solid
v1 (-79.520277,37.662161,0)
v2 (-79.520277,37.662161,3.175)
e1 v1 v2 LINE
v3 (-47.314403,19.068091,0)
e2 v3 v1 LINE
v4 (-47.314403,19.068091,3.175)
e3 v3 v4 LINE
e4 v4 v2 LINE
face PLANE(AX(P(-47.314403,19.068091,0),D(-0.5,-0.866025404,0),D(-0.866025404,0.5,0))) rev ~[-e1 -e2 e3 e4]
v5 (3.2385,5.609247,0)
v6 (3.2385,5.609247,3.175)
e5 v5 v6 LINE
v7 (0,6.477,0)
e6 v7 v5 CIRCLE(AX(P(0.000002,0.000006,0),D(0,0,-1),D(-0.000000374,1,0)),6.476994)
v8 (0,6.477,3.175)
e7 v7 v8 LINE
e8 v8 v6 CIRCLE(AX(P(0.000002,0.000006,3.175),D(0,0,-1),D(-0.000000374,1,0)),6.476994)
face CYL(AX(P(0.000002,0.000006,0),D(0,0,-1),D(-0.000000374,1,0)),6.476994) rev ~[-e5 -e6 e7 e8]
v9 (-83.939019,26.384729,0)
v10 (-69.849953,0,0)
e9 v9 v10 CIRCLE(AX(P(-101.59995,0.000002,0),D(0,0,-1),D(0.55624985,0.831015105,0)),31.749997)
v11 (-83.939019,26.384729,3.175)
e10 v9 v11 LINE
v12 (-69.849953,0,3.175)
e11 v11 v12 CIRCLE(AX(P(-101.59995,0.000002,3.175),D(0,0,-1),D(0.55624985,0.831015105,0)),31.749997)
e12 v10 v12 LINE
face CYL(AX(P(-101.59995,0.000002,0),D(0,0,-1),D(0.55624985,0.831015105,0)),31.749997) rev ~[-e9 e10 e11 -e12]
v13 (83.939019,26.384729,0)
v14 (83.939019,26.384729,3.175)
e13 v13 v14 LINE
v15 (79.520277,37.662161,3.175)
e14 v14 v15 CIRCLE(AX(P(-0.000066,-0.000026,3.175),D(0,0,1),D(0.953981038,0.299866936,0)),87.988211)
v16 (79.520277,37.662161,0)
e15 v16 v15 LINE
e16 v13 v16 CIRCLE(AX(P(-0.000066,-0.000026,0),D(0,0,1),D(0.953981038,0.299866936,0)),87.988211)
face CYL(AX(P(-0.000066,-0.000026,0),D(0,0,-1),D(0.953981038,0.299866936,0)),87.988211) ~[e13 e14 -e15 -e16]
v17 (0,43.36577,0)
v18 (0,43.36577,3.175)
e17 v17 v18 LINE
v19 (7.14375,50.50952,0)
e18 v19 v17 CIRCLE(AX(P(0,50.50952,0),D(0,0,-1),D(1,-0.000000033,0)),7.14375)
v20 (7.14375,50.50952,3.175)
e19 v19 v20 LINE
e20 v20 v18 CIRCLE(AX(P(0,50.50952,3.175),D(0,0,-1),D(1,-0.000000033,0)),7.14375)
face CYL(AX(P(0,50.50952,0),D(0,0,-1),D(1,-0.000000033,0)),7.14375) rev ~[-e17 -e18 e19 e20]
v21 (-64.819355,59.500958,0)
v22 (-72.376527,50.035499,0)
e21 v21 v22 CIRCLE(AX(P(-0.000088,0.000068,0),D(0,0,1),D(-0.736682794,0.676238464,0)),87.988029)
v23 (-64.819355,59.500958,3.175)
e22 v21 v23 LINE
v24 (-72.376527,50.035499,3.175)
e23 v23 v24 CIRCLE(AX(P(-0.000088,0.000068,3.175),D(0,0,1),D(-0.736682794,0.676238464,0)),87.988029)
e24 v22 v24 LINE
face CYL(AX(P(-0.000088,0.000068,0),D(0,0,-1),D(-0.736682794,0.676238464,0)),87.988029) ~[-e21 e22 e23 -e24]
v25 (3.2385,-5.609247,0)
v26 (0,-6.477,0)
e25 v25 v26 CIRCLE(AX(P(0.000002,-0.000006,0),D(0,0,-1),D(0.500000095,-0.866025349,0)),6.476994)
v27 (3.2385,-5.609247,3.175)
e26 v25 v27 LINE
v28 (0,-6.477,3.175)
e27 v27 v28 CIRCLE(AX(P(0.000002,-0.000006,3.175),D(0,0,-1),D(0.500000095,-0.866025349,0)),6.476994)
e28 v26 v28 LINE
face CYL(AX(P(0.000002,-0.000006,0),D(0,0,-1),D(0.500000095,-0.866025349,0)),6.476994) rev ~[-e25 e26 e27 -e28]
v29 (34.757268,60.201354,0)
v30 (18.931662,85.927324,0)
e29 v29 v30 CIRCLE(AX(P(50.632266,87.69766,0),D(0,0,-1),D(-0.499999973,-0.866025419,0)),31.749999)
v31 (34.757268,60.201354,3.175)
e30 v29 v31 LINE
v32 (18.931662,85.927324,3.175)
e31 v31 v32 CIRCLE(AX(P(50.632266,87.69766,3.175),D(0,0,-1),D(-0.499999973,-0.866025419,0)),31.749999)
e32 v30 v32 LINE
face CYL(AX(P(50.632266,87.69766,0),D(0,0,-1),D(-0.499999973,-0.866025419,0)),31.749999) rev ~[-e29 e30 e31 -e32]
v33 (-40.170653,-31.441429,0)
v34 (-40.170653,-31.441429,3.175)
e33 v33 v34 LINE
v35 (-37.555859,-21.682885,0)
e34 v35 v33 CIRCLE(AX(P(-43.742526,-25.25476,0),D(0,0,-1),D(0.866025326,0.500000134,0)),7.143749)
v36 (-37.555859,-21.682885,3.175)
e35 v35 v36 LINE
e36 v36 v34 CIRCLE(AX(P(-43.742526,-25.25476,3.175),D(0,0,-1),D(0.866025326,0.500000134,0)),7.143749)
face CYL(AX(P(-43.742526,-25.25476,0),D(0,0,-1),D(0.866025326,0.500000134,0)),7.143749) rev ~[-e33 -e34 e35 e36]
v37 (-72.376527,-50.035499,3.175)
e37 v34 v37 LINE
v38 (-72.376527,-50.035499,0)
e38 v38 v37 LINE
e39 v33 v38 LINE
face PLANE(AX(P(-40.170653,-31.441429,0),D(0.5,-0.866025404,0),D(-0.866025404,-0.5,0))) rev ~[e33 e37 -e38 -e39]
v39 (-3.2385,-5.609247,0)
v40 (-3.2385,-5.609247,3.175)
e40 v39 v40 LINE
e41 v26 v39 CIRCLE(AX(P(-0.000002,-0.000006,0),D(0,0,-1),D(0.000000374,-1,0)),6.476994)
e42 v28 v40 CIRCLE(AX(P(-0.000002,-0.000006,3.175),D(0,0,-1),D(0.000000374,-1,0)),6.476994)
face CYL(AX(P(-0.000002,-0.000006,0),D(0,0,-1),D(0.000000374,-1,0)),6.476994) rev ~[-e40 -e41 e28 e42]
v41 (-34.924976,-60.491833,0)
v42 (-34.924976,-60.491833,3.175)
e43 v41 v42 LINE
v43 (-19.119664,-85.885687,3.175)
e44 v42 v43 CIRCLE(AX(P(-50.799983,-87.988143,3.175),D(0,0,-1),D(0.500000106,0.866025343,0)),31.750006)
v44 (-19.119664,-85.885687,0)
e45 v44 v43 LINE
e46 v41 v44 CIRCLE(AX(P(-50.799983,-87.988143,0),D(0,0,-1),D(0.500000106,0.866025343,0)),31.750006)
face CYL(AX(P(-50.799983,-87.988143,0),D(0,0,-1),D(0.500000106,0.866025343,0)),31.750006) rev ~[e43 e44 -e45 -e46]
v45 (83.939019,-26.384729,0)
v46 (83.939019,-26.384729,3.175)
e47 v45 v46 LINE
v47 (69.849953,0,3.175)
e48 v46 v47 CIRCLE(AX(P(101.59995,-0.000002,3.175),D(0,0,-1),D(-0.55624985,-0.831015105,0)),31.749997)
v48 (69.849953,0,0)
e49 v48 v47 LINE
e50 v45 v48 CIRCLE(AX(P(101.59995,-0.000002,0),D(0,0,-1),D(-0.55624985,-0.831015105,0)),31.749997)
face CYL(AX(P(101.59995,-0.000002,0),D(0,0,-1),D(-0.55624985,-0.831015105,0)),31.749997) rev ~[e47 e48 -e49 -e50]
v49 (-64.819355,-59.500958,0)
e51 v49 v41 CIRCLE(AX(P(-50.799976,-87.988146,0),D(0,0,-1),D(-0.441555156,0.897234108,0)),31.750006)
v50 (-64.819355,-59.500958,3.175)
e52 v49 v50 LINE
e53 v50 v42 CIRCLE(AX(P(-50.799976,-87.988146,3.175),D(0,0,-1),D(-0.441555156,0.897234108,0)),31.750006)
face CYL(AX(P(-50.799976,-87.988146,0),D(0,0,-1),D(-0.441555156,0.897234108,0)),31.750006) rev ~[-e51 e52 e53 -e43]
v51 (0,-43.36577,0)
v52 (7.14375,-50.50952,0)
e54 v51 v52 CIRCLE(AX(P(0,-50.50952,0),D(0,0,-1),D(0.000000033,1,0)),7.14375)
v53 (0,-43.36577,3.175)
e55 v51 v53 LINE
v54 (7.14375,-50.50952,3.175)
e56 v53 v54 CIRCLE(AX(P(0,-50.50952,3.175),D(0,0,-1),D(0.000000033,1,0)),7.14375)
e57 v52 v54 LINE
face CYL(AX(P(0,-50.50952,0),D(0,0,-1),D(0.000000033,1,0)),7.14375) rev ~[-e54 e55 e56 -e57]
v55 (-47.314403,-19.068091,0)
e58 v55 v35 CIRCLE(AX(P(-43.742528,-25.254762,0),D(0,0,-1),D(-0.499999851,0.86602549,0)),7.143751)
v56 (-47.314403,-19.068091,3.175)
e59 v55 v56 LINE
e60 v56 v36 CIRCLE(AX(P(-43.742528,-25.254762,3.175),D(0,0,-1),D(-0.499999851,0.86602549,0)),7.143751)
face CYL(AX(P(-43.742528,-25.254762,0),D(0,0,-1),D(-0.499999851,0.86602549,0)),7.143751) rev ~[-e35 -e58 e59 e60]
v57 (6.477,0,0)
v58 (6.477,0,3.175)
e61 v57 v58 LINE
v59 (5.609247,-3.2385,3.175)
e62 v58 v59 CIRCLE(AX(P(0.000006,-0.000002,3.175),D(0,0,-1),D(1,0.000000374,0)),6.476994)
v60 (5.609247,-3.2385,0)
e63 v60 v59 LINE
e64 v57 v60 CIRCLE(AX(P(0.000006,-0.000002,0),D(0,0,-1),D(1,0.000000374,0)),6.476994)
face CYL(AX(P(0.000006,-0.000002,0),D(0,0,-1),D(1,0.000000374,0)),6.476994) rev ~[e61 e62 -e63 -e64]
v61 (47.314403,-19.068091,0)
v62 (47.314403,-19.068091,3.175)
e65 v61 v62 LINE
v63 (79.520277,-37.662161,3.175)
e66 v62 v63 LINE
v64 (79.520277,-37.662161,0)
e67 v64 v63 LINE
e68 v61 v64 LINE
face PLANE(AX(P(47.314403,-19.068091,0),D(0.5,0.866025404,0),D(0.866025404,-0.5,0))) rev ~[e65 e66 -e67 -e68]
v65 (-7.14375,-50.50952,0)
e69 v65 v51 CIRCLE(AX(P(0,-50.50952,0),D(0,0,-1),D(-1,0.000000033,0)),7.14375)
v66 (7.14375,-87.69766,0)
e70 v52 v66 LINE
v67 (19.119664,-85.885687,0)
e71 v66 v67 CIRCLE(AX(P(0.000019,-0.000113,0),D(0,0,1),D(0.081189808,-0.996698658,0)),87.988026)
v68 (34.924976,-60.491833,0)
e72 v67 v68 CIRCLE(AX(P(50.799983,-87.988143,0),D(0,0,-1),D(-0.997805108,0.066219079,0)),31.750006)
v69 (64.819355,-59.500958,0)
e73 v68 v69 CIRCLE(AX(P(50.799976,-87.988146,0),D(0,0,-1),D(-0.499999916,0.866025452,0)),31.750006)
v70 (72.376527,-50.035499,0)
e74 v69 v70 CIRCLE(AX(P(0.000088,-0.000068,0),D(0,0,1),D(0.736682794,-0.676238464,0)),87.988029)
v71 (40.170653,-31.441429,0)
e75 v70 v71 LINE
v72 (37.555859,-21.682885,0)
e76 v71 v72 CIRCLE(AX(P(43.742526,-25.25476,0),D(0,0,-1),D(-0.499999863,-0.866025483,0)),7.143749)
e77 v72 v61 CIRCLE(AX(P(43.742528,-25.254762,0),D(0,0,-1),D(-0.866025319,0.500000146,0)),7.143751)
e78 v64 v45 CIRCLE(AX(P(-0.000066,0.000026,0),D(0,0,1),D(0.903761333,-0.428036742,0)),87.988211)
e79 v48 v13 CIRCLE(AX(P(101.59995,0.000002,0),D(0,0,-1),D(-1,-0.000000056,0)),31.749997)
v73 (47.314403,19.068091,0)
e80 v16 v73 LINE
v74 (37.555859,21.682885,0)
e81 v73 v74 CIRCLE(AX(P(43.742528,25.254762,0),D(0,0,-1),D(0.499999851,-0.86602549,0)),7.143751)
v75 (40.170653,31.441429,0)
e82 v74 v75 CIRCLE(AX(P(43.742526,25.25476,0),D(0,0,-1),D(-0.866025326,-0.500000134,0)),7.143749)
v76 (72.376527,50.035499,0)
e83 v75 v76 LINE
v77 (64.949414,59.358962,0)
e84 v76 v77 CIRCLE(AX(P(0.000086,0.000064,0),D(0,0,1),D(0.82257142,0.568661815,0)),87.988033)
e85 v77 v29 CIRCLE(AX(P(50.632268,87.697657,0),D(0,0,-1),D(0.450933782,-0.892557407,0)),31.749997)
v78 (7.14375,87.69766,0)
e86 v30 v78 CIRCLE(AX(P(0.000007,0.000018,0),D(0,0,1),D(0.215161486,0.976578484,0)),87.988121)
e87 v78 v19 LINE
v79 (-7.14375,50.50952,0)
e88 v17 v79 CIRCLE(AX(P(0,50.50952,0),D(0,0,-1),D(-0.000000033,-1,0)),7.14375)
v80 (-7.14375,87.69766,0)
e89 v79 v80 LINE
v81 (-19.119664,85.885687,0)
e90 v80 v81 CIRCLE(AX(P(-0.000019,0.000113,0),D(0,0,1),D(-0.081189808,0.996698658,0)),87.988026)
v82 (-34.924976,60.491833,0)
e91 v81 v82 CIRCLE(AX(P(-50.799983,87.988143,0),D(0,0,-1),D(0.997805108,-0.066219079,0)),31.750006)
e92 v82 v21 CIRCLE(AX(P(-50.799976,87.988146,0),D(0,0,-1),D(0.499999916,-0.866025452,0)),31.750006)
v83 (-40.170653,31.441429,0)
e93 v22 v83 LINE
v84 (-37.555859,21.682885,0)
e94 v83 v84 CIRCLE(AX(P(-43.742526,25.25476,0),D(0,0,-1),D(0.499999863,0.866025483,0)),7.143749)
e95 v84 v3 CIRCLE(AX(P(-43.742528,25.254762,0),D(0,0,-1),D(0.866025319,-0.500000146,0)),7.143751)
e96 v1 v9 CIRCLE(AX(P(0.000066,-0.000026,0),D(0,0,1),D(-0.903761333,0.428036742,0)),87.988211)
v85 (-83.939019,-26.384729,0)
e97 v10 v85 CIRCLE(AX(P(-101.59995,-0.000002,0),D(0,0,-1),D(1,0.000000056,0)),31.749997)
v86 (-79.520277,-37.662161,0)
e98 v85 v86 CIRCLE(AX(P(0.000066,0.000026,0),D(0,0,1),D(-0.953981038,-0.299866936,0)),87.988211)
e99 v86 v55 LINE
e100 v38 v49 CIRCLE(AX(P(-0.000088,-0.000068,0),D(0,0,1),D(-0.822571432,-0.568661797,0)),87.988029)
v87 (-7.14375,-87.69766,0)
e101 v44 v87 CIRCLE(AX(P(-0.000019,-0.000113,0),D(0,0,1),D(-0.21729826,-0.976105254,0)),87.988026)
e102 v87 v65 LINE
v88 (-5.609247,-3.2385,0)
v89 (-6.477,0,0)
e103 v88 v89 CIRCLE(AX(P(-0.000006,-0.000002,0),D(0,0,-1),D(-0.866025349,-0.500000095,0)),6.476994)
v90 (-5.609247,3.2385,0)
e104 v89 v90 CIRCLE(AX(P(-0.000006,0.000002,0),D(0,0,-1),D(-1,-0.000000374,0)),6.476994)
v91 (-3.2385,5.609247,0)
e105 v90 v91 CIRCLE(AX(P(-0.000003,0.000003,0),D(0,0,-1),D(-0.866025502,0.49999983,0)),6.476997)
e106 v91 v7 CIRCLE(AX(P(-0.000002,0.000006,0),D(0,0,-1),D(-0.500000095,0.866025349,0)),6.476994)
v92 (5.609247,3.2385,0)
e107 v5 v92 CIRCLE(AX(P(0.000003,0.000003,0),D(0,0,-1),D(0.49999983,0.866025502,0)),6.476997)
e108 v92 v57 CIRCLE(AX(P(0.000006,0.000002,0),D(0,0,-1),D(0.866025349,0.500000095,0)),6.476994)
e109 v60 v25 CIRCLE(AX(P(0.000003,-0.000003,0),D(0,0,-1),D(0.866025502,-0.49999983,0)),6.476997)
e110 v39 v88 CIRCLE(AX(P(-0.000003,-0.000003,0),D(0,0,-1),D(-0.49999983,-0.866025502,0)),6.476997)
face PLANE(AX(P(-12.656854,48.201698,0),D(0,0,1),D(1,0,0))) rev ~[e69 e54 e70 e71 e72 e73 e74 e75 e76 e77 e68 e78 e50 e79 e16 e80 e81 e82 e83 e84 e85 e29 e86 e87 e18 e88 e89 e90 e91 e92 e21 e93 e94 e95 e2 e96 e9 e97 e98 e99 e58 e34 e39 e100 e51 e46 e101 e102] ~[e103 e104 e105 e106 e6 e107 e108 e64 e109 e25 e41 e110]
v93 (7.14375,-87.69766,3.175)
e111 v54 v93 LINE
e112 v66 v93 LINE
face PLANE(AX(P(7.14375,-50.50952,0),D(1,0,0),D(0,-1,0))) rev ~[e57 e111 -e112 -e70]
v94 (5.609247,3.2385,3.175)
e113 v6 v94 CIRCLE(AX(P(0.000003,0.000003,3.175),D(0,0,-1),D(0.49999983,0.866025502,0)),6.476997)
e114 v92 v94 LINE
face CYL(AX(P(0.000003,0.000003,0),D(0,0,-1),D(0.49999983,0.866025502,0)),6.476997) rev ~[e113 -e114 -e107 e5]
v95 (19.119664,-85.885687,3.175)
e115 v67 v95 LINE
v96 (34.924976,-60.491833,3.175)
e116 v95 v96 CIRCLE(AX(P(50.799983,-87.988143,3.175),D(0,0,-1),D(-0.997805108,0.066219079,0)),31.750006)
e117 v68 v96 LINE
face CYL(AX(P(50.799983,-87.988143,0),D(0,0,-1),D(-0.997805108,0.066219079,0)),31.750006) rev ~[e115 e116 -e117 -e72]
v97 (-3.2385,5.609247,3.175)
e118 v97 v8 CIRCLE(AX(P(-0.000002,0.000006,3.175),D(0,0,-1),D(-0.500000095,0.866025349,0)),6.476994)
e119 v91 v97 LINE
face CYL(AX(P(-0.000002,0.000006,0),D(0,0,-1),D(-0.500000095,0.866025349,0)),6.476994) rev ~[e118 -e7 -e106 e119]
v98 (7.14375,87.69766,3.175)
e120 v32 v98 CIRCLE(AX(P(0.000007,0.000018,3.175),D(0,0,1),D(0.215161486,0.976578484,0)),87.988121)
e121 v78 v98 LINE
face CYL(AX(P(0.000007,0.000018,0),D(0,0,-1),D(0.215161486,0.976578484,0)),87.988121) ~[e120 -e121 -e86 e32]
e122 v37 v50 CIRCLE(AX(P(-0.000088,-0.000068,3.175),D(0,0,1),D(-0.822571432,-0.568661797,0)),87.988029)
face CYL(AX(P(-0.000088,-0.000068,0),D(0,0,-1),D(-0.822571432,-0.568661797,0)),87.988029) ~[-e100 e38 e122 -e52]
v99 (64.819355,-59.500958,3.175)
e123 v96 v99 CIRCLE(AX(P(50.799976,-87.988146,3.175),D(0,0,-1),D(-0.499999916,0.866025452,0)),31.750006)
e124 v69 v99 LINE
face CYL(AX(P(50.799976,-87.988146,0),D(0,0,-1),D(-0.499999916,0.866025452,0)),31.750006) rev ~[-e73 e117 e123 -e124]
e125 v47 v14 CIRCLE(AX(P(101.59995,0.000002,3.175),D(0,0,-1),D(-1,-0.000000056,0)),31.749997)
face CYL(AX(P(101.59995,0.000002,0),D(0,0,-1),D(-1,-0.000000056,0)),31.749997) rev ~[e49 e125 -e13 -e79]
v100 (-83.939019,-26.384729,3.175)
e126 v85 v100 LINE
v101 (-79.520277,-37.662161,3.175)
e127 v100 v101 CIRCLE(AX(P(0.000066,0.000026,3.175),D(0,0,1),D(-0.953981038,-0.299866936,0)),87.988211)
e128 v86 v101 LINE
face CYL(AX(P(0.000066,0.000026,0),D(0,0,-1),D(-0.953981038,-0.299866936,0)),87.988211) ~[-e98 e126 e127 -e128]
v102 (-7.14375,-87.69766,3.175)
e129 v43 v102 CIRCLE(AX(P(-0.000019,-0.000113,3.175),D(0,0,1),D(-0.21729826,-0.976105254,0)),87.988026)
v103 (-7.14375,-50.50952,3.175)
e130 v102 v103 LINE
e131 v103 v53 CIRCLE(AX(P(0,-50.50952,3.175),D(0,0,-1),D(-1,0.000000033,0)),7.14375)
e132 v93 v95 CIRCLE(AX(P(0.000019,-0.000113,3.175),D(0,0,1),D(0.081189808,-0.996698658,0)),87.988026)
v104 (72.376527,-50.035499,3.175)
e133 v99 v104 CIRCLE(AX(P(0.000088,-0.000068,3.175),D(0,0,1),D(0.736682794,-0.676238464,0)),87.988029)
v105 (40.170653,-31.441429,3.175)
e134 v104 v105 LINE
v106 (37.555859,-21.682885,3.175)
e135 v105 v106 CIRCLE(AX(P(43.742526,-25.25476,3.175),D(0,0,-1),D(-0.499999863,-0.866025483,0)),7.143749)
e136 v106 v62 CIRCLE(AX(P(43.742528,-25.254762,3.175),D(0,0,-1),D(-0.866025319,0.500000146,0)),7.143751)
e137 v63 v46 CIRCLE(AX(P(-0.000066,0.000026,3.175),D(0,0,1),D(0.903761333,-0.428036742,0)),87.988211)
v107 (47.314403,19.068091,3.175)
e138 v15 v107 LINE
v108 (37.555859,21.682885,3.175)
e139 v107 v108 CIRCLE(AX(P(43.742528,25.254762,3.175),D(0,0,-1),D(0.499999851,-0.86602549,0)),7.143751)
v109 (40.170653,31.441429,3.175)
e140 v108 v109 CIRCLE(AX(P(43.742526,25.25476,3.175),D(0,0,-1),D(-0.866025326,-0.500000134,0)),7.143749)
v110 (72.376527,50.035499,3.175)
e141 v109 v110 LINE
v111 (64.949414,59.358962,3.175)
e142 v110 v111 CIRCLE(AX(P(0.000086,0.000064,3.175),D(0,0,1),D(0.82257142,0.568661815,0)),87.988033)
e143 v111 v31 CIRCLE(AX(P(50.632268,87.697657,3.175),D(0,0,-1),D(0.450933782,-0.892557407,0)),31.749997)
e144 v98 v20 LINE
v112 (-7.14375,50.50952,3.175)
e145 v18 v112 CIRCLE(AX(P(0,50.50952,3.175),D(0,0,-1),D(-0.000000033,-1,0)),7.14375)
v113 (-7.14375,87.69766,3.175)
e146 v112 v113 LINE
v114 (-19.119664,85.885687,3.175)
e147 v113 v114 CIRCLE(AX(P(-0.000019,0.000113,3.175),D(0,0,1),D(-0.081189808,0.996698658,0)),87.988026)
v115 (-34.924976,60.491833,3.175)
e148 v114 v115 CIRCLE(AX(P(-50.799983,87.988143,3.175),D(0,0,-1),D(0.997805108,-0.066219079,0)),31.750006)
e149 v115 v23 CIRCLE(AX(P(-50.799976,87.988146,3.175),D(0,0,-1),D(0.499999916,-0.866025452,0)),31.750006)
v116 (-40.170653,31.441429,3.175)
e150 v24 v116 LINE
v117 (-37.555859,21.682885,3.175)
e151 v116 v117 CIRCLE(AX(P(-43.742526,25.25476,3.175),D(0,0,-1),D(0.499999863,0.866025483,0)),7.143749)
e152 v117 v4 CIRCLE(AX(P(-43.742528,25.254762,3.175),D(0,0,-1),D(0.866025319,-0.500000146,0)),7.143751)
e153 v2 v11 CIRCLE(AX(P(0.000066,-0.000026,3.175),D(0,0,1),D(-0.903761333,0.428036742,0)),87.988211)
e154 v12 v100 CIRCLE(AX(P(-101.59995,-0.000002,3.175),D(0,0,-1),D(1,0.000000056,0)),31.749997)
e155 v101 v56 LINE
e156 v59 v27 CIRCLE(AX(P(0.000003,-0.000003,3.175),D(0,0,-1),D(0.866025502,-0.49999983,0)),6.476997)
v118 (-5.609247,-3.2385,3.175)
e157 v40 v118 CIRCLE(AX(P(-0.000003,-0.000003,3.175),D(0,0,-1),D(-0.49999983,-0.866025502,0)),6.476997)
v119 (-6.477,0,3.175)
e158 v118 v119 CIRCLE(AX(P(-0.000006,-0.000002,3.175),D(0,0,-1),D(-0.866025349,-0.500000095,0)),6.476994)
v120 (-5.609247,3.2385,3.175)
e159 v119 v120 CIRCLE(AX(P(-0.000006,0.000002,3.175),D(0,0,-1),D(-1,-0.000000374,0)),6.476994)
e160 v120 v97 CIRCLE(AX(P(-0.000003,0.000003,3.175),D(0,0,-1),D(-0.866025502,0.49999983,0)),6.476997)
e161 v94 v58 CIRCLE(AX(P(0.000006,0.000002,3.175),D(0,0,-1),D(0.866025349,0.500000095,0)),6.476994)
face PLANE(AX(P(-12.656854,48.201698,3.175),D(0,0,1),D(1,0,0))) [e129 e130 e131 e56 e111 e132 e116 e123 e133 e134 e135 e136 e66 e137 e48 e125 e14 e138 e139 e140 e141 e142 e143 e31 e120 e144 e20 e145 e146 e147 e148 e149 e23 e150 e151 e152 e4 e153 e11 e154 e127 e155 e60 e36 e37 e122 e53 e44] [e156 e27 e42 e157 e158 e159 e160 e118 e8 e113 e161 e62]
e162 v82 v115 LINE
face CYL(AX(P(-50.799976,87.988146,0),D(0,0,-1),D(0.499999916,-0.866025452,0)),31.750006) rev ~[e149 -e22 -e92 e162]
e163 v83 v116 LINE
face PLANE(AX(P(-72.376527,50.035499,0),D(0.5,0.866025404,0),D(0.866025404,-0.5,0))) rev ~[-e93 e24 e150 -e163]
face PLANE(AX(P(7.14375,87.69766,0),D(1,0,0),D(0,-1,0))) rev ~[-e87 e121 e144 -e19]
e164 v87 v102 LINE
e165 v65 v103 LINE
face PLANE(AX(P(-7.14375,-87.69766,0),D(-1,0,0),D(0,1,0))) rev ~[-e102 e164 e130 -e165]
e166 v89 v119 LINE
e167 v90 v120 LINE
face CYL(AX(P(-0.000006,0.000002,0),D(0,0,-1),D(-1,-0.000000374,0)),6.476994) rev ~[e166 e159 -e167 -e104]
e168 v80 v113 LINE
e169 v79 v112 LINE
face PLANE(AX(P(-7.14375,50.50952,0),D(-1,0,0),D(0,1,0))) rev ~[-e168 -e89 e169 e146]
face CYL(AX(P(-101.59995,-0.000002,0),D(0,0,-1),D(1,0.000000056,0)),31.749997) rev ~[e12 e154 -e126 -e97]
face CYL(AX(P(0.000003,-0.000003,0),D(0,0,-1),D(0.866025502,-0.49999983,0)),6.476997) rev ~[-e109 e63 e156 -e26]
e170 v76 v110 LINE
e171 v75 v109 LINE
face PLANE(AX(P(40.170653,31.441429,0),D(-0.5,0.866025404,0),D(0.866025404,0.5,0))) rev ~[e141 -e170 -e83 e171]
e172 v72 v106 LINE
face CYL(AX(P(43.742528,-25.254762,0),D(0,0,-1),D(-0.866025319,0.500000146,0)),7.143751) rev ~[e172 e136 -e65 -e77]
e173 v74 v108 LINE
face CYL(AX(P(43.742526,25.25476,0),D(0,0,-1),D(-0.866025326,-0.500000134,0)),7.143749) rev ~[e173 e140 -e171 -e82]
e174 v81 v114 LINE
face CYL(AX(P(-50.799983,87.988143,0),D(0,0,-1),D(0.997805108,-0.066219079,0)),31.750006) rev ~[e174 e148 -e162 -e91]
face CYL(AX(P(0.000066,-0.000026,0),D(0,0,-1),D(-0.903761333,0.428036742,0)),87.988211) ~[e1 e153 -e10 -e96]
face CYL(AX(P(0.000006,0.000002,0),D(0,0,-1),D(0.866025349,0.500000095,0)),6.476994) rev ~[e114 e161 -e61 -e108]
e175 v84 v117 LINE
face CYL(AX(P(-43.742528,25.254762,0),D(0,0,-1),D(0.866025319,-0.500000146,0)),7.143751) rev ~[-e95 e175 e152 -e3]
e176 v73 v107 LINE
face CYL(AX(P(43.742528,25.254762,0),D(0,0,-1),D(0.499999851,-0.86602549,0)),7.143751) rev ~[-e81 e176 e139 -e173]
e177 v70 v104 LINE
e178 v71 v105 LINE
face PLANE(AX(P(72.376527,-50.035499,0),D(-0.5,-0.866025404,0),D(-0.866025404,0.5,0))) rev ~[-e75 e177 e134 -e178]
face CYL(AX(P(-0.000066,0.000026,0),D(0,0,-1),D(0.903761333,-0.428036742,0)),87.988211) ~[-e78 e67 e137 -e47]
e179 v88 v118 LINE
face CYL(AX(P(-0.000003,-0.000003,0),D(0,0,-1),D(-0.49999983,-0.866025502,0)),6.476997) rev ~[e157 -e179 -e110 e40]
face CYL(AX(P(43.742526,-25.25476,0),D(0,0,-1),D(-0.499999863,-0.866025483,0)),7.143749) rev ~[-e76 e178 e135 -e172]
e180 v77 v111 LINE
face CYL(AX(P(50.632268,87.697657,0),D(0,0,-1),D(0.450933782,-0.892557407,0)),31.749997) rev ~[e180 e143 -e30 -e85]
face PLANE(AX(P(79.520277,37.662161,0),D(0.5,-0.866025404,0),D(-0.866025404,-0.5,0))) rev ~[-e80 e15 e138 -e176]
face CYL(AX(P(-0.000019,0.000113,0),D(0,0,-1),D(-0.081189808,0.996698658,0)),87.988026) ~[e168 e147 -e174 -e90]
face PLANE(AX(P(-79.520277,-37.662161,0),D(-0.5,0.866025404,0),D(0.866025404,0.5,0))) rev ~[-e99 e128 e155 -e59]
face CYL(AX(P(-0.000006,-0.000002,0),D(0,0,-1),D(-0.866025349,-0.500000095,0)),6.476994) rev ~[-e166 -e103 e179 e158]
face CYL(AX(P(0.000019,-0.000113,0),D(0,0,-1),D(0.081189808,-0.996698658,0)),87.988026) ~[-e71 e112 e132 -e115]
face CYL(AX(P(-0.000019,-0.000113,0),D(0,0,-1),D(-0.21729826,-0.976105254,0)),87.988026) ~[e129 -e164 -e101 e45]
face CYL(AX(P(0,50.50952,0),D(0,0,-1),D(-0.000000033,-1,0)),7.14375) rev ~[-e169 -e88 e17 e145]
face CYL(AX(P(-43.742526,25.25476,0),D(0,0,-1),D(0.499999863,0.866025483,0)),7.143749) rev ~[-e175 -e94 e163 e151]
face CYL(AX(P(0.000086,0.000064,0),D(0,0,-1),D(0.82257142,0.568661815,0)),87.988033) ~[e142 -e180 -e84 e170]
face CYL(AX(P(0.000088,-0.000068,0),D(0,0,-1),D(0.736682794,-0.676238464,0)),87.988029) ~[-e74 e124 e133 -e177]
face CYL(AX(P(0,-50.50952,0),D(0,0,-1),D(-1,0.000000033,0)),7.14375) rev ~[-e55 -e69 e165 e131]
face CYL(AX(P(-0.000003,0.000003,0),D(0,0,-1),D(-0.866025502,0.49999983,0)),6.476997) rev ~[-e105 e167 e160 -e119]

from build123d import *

# Parameters (mm, degrees)
F1_DEPTH = 3.175


with BuildPart() as f1:
    # F0 (on Top) → F1 (new body)
    with BuildSketch(Plane.XY):
        with BuildLine():
            Line((0, 6.477), (0, 43.36577))
            ThreePointArc((0, 43.36577), (-5.051394, 45.458126), (-7.14375, 50.50952))
            Line((-7.14375, 50.50952), (-7.14375, 87.69766))
            ThreePointArc((-7.14375, 87.69766), (-13.162923, 86.99799), (-19.119664, 85.885687))
            ThreePointArc((-19.119664, 85.885687), (-23.844664, 71.210965), (-34.924976, 60.491833))
            Line((-34.924976, 60.491833), (-3.2385, 5.609247))
            ThreePointArc((-3.2385, 5.609247), (-1.676371, 6.256302), (0, 6.477))
        make_face()
        with BuildLine():
            ThreePointArc((-5.609247, 3.2385), (-4.579931, 4.579931), (-3.2385, 5.609247))
            Line((-3.2385, 5.609247), (-34.924976, 60.491833))
            ThreePointArc((-34.924976, 60.491833), (-49.748173, 56.255567), (-64.819355, 59.500958))
            ThreePointArc((-64.819355, 59.500958), (-68.761008, 54.898421), (-72.376527, 50.035499))
            Line((-72.376527, 50.035499), (-40.170653, 31.441429))
            ThreePointArc((-40.170653, 31.441429), (-36.842195, 27.103699), (-37.555859, 21.682885))
            Line((-37.555859, 21.682885), (-5.609247, 3.2385))
        make_face()
        with BuildLine():
            ThreePointArc((-6.477, 0), (-6.256302, 1.676371), (-5.609247, 3.2385))
            Line((-5.609247, 3.2385), (-37.555859, 21.682885))
            ThreePointArc((-37.555859, 21.682885), (-41.893589, 18.354428), (-47.314403, 19.068091))
            Line((-47.314403, 19.068091), (-79.520277, 37.662161))
            ThreePointArc((-79.520277, 37.662161), (-81.923931, 32.099569), (-83.939019, 26.384729))
            ThreePointArc((-83.939019, 26.384729), (-73.592836, 14.955398), (-69.849953, 0))
            Line((-69.849953, 0), (-6.477, 0))
        make_face()
        with BuildLine():
            ThreePointArc((-5.609247, -3.2385), (-6.256302, -1.676371), (-6.477, 0))
            Line((-6.477, 0), (-69.849953, 0))
            ThreePointArc((-69.849953, 0), (-73.592836, -14.955398), (-83.939019, -26.384729))
            ThreePointArc((-83.939019, -26.384729), (-81.923931, -32.099569), (-79.520277, -37.662161))
            Line((-79.520277, -37.662161), (-47.314403, -19.068091))
            ThreePointArc((-47.314403, -19.068091), (-41.893589, -18.354428), (-37.555859, -21.682885))
            Line((-37.555859, -21.682885), (-5.609247, -3.2385))
        make_face()
        with BuildLine():
            ThreePointArc((-3.2385, -5.609247), (-4.579931, -4.579931), (-5.609247, -3.2385))
            Line((-5.609247, -3.2385), (-37.555859, -21.682885))
            ThreePointArc((-37.555859, -21.682885), (-36.842195, -27.103699), (-40.170653, -31.441429))
            Line((-40.170653, -31.441429), (-72.376527, -50.035499))
            ThreePointArc((-72.376527, -50.035499), (-68.761008, -54.898421), (-64.819355, -59.500958))
            ThreePointArc((-64.819355, -59.500958), (-49.748173, -56.255567), (-34.924976, -60.491833))
            Line((-34.924976, -60.491833), (-3.2385, -5.609247))
        make_face()
        with BuildLine():
            Line((0, -43.36577), (0, -6.477))
            ThreePointArc((0, -6.477), (-1.676371, -6.256302), (-3.2385, -5.609247))
            Line((-3.2385, -5.609247), (-34.924976, -60.491833))
            ThreePointArc((-34.924976, -60.491833), (-23.844664, -71.210965), (-19.119664, -85.885687))
            ThreePointArc((-19.119664, -85.885687), (-13.162923, -86.99799), (-7.14375, -87.69766))
            Line((-7.14375, -87.69766), (-7.14375, -50.50952))
            ThreePointArc((-7.14375, -50.50952), (-5.051394, -45.458126), (0, -43.36577))
        make_face()
        with BuildLine():
            Line((34.924976, -60.491833), (3.2385, -5.609247))
            ThreePointArc((3.2385, -5.609247), (1.676371, -6.256302), (0, -6.477))
            Line((0, -6.477), (0, -43.36577))
            ThreePointArc((0, -43.36577), (5.051394, -45.458126), (7.14375, -50.50952))
            Line((7.14375, -50.50952), (7.14375, -87.69766))
            ThreePointArc((7.14375, -87.69766), (13.162923, -86.99799), (19.119664, -85.885687))
            ThreePointArc((19.119664, -85.885687), (23.844664, -71.210965), (34.924976, -60.491833))
        make_face()
        with BuildLine():
            Line((37.555859, -21.682885), (5.609247, -3.2385))
            ThreePointArc((5.609247, -3.2385), (4.579931, -4.579931), (3.2385, -5.609247))
            Line((3.2385, -5.609247), (34.924976, -60.491833))
            ThreePointArc((34.924976, -60.491833), (49.748173, -56.255567), (64.819355, -59.500958))
            ThreePointArc((64.819355, -59.500958), (68.761008, -54.898421), (72.376527, -50.035499))
            Line((72.376527, -50.035499), (40.170653, -31.441429))
            ThreePointArc((40.170653, -31.441429), (36.842195, -27.103699), (37.555859, -21.682885))
        make_face()
        with BuildLine():
            Line((69.849953, 0), (6.477, 0))
            ThreePointArc((6.477, 0), (6.256302, -1.676371), (5.609247, -3.2385))
            Line((5.609247, -3.2385), (37.555859, -21.682885))
            ThreePointArc((37.555859, -21.682885), (41.893589, -18.354428), (47.314403, -19.068091))
            Line((47.314403, -19.068091), (79.520277, -37.662161))
            ThreePointArc((79.520277, -37.662161), (81.923931, -32.099569), (83.939019, -26.384729))
            ThreePointArc((83.939019, -26.384729), (73.592836, -14.955398), (69.849953, 0))
        make_face()
        with BuildLine():
            Line((37.555859, 21.682885), (5.609247, 3.2385))
            ThreePointArc((5.609247, 3.2385), (6.256302, 1.676371), (6.477, 0))
            Line((6.477, 0), (69.849953, 0))
            ThreePointArc((69.849953, 0), (73.592836, 14.955398), (83.939019, 26.384729))
            ThreePointArc((83.939019, 26.384729), (81.923931, 32.099569), (79.520277, 37.662161))
            Line((79.520277, 37.662161), (47.314403, 19.068091))
            ThreePointArc((47.314403, 19.068091), (41.893589, 18.354428), (37.555859, 21.682885))
        make_face()
        with BuildLine():
            ThreePointArc((64.949414, 59.358962), (49.746755, 55.960011), (34.757268, 60.201354))
            Line((34.757268, 60.201354), (3.2385, 5.609247))
            ThreePointArc((3.2385, 5.609247), (4.579931, 4.579931), (5.609247, 3.2385))
            Line((5.609247, 3.2385), (37.555859, 21.682885))
            ThreePointArc((37.555859, 21.682885), (36.842195, 27.103699), (40.170653, 31.441429))
            Line((40.170653, 31.441429), (72.376527, 50.035499))
            ThreePointArc((72.376527, 50.035499), (68.821038, 54.823148), (64.949414, 59.358962))
        make_face()
        with BuildLine():
            ThreePointArc((34.757268, 60.201354), (23.589414, 71.061959), (18.931662, 85.927324))
            ThreePointArc((18.931662, 85.927324), (13.06772, 87.012341), (7.14375, 87.69766))
            Line((7.14375, 87.69766), (7.14375, 50.50952))
            ThreePointArc((7.14375, 50.50952), (5.051394, 45.458126), (0, 43.36577))
            Line((0, 43.36577), (0, 6.477))
            ThreePointArc((0, 6.477), (1.676371, 6.256302), (3.2385, 5.609247))
            Line((3.2385, 5.609247), (34.757268, 60.201354))
        make_face()
    extrude(amount=F1_DEPTH)


solid = f1.part
